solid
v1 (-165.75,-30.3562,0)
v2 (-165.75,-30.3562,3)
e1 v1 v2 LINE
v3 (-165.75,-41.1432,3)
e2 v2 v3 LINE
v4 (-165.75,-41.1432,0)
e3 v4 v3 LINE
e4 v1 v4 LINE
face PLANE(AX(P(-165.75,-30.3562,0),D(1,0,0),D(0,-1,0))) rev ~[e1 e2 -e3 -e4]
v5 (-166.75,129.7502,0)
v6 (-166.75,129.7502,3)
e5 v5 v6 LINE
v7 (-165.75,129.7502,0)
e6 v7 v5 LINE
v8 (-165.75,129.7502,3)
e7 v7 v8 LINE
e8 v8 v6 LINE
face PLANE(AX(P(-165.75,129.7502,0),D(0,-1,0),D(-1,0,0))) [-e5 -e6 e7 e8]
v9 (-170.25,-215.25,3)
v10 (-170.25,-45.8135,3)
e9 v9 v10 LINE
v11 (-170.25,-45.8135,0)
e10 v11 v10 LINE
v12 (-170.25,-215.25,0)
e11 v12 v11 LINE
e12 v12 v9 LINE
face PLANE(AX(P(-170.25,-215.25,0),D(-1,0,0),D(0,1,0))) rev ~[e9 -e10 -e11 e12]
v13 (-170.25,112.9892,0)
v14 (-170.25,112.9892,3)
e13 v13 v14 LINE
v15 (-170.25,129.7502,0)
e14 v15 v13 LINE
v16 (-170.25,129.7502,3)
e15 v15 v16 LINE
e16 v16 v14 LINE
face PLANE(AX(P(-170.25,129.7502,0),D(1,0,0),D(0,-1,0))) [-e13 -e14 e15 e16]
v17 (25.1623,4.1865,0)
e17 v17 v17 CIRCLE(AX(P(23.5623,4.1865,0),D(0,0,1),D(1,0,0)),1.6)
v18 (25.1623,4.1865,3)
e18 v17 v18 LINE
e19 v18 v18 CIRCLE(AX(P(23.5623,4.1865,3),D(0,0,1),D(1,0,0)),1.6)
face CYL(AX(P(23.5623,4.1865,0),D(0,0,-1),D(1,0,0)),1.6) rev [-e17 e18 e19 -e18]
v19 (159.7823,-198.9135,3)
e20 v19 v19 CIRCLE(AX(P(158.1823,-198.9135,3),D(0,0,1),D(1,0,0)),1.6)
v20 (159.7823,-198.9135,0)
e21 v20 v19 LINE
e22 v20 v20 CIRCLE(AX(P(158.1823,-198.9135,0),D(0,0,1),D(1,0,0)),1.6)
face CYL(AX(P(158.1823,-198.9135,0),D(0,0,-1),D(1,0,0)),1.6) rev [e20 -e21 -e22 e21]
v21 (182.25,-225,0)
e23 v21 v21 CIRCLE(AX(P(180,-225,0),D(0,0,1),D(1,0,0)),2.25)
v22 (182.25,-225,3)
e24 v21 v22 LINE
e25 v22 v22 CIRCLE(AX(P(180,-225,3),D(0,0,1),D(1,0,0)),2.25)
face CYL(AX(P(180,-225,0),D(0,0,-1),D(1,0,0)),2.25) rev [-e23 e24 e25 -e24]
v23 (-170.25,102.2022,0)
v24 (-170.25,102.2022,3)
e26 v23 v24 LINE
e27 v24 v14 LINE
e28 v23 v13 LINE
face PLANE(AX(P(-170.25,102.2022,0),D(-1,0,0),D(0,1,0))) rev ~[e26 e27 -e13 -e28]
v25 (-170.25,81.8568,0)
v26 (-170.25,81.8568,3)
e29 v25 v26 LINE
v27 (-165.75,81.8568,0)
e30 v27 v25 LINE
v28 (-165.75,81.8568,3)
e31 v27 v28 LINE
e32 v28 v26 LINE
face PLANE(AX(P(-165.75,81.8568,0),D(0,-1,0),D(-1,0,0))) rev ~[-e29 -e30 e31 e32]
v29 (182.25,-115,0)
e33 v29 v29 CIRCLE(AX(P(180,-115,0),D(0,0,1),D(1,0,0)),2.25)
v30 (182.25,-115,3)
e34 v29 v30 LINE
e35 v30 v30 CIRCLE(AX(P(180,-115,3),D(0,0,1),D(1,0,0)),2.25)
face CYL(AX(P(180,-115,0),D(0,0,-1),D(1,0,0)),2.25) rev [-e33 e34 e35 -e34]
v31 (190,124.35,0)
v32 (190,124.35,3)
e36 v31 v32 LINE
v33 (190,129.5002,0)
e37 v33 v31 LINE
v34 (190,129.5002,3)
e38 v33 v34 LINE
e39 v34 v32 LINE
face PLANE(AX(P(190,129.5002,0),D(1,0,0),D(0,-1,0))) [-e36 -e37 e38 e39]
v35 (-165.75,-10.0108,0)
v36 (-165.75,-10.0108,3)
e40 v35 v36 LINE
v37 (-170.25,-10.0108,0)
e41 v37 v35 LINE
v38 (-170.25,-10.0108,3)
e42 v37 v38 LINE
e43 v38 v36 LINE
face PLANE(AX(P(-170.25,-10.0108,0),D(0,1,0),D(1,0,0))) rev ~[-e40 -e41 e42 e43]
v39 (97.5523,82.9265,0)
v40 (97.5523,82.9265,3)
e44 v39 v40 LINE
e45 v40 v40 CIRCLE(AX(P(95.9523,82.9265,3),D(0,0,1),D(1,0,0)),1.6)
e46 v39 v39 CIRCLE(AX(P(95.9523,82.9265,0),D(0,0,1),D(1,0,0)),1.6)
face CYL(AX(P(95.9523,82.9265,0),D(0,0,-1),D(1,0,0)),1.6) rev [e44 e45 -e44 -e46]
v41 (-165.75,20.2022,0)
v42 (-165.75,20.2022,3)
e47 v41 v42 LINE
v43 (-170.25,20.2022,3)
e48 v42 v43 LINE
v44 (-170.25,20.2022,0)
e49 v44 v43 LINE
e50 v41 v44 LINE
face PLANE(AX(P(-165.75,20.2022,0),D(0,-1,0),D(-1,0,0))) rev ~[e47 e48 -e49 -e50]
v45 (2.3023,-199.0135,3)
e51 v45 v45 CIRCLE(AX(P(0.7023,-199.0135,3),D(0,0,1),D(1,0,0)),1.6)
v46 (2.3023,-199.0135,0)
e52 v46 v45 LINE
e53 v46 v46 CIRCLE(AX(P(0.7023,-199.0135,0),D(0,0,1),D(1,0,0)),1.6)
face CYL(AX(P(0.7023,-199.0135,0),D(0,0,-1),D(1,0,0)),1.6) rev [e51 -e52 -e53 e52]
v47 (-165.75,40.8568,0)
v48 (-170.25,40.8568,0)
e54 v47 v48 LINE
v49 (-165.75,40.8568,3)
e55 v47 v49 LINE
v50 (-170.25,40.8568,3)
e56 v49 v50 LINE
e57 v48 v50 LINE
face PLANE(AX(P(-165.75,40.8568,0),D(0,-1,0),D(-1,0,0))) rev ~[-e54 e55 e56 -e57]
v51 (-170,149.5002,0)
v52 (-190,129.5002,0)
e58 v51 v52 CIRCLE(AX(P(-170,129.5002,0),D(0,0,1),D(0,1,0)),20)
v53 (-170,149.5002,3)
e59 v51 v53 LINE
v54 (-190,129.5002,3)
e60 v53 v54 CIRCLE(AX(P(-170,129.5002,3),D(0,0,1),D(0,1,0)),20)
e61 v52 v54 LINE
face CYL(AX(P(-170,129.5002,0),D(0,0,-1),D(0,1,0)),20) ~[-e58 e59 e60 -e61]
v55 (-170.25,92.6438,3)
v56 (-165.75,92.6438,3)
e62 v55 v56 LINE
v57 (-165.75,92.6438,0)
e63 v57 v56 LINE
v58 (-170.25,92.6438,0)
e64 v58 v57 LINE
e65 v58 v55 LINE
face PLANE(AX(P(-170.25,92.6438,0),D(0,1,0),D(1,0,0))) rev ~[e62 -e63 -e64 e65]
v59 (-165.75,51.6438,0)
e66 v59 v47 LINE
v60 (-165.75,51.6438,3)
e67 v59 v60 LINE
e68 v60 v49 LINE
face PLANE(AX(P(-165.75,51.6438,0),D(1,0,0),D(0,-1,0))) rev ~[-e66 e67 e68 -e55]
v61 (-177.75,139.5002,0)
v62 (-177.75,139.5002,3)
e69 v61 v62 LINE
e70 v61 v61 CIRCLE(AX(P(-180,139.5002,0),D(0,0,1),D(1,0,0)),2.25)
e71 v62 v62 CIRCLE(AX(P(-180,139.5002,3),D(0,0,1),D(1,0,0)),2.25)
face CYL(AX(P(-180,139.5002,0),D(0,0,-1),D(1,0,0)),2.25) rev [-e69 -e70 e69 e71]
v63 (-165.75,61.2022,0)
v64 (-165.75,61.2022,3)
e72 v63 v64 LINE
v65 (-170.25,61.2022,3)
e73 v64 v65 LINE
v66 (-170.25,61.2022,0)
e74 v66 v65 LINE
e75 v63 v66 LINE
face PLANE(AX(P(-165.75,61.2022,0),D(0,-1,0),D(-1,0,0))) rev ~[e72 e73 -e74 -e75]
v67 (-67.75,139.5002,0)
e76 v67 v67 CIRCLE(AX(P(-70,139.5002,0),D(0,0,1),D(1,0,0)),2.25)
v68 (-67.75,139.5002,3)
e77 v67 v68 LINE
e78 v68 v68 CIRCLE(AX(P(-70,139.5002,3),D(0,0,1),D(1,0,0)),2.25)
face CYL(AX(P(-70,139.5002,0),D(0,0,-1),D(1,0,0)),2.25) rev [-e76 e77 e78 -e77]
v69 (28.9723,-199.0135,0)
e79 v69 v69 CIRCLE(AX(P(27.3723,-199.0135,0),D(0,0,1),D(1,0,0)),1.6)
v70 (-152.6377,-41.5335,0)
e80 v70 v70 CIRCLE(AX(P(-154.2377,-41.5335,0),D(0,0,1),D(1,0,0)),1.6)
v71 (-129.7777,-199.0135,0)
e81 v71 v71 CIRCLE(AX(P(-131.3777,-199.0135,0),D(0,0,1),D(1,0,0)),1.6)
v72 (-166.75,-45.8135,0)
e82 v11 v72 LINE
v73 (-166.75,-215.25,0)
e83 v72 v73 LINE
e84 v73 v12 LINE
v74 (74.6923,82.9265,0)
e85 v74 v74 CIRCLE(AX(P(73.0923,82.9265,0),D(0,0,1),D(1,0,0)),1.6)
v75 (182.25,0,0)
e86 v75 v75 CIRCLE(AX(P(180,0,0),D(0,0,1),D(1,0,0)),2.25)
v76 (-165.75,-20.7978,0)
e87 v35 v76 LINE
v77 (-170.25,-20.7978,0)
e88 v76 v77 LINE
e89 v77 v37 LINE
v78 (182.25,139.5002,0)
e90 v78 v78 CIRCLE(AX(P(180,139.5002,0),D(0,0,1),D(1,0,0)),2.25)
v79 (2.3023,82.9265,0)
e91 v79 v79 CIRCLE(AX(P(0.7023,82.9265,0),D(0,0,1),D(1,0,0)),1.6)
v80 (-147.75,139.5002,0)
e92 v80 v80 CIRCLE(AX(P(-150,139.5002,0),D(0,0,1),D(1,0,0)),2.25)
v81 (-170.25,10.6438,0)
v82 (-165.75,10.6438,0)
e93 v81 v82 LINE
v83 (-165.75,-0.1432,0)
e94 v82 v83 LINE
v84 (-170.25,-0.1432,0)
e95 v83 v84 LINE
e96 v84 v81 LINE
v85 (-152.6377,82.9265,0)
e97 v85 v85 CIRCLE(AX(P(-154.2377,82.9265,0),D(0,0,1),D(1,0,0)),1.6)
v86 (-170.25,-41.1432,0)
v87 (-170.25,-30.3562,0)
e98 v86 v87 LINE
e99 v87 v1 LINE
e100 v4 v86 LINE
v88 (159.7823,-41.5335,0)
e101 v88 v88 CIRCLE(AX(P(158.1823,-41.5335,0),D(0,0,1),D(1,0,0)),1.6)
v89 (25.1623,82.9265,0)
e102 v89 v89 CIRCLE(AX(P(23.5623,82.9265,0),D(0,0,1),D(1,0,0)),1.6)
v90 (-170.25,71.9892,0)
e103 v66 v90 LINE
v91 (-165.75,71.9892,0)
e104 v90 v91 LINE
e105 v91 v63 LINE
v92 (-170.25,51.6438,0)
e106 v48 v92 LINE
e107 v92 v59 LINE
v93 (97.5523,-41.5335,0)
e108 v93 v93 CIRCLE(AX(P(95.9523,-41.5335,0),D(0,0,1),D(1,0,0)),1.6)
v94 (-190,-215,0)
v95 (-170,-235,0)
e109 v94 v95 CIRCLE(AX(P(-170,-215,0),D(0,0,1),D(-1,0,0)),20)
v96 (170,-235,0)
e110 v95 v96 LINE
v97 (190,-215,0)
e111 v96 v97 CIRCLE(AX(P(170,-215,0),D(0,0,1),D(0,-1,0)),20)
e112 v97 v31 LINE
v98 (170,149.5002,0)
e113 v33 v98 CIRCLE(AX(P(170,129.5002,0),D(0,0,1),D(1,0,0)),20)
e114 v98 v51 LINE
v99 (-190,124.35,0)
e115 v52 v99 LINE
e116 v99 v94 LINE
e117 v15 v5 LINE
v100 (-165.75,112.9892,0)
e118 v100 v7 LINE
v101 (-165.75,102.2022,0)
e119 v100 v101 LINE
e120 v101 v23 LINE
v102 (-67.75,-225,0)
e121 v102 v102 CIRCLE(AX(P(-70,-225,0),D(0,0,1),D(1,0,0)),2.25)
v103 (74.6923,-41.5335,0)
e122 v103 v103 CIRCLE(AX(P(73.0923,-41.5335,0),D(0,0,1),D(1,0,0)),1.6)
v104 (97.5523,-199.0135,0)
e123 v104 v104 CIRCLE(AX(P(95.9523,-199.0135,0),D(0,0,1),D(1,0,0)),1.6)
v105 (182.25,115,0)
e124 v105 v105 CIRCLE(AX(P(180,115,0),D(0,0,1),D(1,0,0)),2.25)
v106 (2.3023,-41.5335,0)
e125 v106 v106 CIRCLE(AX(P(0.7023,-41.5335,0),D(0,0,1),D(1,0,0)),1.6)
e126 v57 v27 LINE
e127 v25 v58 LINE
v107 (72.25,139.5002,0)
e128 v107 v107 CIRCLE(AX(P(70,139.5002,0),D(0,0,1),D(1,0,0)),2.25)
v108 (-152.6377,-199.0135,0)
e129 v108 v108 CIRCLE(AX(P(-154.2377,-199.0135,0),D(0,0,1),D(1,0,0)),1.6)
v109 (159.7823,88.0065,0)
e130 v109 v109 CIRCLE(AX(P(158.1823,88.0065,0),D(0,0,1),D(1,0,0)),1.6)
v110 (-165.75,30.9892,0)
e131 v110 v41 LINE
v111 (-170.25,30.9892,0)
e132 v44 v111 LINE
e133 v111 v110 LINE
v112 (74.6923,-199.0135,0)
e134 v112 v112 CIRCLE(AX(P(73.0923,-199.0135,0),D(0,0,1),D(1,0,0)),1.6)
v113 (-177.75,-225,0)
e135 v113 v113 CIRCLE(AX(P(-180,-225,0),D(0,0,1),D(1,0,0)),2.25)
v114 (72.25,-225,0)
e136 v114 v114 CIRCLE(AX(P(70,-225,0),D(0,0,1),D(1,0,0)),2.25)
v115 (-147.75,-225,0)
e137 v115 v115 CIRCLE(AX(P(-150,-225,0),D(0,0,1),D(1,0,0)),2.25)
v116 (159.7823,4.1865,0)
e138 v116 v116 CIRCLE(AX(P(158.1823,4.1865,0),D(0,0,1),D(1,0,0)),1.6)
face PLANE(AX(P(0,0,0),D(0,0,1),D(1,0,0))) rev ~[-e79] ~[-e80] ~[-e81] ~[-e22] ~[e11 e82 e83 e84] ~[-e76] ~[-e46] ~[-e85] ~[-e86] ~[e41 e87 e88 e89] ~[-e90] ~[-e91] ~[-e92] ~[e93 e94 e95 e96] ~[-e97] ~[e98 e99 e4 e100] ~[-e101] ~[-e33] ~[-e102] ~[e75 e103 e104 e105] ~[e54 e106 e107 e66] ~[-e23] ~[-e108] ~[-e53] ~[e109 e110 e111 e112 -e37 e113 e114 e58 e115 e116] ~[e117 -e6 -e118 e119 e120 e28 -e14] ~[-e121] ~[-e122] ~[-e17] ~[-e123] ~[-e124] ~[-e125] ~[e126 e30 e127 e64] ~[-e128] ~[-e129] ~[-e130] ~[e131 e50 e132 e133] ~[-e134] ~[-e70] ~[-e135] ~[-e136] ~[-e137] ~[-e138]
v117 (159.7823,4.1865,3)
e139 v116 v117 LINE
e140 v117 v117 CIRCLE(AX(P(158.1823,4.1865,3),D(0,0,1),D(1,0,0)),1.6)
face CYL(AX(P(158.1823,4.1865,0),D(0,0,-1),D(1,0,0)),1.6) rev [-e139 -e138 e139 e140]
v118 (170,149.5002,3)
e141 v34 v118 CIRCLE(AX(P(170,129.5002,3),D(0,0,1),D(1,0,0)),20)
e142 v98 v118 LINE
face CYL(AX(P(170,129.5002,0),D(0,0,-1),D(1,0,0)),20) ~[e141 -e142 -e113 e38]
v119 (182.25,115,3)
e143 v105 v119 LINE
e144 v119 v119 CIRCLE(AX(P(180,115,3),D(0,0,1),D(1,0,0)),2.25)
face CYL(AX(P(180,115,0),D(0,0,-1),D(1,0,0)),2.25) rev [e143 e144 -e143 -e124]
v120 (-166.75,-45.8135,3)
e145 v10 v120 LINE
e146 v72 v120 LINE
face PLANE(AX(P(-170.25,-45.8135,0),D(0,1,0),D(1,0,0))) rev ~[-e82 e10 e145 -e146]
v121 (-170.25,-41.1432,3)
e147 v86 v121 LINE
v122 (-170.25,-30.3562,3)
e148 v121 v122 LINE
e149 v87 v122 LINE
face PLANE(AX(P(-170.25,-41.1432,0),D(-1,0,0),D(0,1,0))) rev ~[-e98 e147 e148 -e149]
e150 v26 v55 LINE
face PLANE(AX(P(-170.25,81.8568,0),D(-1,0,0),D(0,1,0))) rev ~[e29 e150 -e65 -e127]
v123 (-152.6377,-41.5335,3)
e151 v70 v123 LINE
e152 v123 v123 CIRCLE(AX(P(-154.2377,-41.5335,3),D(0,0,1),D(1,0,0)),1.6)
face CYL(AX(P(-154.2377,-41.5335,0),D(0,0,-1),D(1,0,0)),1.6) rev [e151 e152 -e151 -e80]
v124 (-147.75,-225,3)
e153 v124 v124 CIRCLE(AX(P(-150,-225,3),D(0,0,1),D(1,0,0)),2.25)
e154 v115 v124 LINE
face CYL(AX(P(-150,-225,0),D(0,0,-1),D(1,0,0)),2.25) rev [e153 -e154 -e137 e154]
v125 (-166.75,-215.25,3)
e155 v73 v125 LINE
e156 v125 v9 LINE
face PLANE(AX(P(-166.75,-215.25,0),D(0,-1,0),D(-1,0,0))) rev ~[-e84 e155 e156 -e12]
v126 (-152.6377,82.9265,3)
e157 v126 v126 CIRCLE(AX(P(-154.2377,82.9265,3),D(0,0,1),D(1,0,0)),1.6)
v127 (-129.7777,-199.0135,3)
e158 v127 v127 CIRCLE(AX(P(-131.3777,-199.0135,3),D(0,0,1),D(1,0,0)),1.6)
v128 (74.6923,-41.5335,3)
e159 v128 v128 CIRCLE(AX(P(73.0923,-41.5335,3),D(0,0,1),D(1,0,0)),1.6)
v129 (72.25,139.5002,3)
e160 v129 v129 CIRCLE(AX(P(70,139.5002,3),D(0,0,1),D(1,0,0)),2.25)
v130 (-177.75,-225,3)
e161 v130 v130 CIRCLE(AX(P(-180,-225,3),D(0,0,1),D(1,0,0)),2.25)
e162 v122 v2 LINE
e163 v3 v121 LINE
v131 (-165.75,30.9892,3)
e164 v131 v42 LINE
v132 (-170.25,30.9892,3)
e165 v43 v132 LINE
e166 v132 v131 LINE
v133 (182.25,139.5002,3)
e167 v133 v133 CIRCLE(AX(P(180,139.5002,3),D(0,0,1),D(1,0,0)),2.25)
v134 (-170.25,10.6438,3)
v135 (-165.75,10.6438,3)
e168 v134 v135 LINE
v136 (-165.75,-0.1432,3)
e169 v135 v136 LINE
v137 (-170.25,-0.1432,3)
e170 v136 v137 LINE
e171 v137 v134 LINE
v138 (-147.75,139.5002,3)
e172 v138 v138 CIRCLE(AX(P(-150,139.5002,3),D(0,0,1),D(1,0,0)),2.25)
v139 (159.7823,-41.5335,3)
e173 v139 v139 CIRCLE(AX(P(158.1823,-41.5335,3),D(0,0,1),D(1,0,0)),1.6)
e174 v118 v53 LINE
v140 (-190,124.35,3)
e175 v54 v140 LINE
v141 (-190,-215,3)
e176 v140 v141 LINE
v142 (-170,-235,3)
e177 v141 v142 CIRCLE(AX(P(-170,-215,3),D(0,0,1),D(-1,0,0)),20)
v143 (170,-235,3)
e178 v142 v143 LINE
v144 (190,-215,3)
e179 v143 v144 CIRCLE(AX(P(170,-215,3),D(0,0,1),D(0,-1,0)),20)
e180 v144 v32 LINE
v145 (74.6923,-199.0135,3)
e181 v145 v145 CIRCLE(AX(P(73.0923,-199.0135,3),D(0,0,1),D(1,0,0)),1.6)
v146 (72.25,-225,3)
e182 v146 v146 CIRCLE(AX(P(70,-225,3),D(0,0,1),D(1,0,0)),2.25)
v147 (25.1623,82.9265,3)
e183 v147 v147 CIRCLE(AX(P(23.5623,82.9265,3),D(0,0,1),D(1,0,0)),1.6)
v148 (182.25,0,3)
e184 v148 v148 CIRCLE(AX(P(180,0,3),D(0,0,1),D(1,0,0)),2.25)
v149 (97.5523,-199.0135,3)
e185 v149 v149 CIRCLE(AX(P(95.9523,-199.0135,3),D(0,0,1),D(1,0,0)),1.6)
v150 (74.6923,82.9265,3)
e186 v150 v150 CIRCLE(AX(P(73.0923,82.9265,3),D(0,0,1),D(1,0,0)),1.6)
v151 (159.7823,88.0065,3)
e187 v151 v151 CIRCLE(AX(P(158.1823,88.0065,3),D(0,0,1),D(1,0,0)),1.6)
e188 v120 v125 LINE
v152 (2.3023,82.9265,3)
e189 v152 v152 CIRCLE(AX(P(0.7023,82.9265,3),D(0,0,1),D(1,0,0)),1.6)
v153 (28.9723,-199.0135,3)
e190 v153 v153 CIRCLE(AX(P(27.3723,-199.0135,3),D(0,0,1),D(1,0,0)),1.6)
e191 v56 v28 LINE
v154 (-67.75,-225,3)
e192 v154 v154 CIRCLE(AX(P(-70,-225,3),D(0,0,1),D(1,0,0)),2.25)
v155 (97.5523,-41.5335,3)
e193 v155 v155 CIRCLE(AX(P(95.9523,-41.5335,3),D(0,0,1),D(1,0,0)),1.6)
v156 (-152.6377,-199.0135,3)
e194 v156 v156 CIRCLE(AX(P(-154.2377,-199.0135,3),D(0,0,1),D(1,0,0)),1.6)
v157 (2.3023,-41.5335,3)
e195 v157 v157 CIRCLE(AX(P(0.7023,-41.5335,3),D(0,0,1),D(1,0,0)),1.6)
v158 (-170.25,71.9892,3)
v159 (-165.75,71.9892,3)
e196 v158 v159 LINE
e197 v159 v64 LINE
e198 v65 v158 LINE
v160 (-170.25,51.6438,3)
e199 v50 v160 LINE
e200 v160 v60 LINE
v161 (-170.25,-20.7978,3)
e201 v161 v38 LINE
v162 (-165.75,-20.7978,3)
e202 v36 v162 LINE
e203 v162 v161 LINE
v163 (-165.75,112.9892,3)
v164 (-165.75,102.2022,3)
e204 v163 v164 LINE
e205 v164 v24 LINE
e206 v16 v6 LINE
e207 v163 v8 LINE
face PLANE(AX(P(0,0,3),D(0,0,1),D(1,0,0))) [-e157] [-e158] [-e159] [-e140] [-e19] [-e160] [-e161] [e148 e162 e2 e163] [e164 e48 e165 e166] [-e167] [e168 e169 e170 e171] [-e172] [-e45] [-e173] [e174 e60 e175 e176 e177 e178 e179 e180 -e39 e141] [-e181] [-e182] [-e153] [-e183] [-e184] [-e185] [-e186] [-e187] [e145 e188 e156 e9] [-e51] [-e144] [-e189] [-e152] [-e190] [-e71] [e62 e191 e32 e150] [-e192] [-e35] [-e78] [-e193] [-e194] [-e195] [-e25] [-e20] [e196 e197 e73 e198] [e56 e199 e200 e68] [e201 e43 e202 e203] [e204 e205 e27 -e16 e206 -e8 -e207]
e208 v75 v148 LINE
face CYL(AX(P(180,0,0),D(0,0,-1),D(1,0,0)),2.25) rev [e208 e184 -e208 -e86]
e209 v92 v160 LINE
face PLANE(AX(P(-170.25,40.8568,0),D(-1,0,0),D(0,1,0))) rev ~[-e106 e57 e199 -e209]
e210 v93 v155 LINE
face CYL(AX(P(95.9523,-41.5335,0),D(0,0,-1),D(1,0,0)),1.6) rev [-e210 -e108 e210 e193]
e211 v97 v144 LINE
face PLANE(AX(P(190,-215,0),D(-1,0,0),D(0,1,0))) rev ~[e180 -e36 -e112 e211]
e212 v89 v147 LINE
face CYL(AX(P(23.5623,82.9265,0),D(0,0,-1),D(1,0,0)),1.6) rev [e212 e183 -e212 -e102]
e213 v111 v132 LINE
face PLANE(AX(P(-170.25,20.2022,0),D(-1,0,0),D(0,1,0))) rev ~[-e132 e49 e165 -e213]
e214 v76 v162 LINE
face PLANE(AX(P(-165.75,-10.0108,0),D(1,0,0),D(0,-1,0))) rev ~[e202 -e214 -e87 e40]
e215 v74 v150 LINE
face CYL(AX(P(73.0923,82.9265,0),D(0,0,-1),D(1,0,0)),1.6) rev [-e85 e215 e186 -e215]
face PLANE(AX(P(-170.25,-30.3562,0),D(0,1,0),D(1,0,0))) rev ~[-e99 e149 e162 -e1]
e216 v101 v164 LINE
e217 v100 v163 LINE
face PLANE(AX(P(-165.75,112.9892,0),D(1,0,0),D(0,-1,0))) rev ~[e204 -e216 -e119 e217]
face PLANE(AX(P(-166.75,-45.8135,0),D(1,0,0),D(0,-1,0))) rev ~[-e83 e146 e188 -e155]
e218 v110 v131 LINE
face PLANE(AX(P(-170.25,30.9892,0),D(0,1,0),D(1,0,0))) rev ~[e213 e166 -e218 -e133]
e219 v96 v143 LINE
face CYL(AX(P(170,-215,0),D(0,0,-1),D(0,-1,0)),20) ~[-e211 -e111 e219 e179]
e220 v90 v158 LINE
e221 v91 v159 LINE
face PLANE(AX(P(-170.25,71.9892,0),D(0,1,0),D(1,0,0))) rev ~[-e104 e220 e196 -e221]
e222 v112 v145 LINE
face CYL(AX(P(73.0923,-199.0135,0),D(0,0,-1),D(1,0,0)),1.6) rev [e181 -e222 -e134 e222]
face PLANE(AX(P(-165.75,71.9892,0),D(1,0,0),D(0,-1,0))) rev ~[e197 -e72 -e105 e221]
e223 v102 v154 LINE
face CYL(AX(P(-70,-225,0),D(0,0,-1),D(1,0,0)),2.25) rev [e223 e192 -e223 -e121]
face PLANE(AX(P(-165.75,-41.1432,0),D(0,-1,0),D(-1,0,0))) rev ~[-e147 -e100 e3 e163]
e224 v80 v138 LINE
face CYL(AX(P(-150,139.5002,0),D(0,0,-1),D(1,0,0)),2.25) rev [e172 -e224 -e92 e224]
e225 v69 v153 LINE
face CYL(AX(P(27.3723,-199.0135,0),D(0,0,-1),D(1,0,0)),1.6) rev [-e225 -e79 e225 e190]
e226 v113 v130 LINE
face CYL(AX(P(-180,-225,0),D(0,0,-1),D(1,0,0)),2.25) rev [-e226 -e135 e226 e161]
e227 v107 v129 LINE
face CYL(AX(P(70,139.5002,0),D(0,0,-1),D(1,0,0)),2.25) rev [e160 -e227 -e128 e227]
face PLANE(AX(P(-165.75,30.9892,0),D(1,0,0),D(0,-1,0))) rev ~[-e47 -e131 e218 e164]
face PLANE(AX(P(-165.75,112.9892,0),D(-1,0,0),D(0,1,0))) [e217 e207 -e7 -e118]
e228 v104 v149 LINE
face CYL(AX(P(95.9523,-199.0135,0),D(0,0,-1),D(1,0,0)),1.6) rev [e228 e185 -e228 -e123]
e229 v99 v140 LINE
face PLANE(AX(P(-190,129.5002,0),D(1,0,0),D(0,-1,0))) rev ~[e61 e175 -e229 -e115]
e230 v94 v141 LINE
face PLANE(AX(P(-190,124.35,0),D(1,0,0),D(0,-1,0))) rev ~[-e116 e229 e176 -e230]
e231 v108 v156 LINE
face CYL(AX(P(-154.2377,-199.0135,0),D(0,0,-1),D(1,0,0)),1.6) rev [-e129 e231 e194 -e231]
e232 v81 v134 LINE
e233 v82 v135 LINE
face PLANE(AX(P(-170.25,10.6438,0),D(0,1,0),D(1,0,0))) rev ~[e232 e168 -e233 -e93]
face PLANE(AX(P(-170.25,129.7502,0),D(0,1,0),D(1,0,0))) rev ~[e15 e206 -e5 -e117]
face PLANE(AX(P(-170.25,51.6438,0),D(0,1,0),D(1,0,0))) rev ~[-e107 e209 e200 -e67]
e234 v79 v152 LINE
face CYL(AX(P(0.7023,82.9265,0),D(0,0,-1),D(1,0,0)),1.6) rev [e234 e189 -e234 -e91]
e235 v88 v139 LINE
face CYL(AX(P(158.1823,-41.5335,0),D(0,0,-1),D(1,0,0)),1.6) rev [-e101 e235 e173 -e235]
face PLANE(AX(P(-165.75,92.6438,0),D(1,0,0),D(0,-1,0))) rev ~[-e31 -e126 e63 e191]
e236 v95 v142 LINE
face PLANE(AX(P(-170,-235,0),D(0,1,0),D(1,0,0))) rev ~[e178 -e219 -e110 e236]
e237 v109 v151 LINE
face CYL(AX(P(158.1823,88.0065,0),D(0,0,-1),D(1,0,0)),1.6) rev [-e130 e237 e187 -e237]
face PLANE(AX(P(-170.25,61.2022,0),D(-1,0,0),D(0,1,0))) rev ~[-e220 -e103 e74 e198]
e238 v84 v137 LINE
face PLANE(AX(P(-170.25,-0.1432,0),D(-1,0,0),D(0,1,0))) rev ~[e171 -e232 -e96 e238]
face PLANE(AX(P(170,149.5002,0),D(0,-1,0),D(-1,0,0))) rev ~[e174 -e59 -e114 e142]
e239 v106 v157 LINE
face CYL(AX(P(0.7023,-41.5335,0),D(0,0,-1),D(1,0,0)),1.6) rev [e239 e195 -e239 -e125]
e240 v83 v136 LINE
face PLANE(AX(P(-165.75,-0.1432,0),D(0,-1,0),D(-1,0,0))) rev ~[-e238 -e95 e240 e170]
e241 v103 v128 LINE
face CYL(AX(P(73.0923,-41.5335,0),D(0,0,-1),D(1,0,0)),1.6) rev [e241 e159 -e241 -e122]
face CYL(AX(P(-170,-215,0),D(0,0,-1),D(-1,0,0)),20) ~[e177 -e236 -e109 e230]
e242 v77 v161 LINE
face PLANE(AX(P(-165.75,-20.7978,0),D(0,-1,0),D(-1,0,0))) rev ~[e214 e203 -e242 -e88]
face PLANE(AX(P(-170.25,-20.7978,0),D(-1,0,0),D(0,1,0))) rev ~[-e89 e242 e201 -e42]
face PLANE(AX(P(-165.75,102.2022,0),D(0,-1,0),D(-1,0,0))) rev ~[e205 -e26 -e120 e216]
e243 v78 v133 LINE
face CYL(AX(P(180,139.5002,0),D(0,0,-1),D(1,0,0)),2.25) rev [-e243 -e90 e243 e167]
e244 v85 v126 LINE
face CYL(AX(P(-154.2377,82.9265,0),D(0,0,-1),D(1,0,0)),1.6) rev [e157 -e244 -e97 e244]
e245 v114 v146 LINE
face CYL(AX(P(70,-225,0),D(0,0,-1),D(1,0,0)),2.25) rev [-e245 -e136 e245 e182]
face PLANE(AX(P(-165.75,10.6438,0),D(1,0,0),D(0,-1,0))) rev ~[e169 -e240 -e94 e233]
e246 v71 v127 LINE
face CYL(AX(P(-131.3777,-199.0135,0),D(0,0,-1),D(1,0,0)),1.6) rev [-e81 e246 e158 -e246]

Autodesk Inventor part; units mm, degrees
ref_plane "YZ Plane" through (0, 0, 0) normal (1, 0, 0) x (0, 1, 0)
ref_plane "XZ Plane" through (0, 0, 0) normal (0, 1, 0) x (-1, 0, 0)
ref_plane "XY Plane" through (0, 0, 0) normal (0, 0, 1) x (1, 0, 0)
sketch "Sketch1" plane through (0, 0, 0) normal (0, 0, 1) x (1, 0, 0)
  circle A0 centre (95.9523, -199.0135) radius 1.6
  circle A1 centre (-154.2377, -199.0135) radius 1.6
  circle A2 centre (23.5623, 4.1865) radius 1.6
  circle A3 centre (158.1823, -41.5335) radius 1.6
  circle A4 centre (95.9523, 82.9265) radius 1.6
  circle A5 centre (158.1823, 88.0065) radius 1.6
  circle A6 centre (158.1823, 4.1865) radius 1.6
  circle A7 centre (158.1823, -198.9135) radius 1.6
  circle A8 centre (23.5623, 82.9265) radius 1.6
  circle A9 centre (95.9523, -41.5335) radius 1.6
  circle A10 centre (27.3723, -199.0135) radius 1.6
  circle A11 centre (70, 139.5002) radius 2.25
  circle A12 centre (180, -115) radius 2.25
  circle A13 centre (-70, 139.5002) radius 2.25
  circle A14 centre (70, -225) radius 2.25
  circle A15 centre (-70, -225) radius 2.25
  circle A16 centre (180, 0) radius 2.25
  circle A17 centre (180, 115) radius 2.25
  line L0 (-170.25, 129.7502) -> (-166.75, 129.7502)
  line L1 (-170.25, -10.0108) -> (-165.75, -10.0108)
  line L2 (-165.75, -10.0108) -> (-165.75, -20.7978)
  line L3 (-165.75, -20.7978) -> (-170.25, -20.7978)
  line L4 (-170.25, -20.7978) -> (-170.25, -10.0108)
  line L5 (-170.25, 30.9892) -> (-165.75, 30.9892)
  line L6 (-165.75, 30.9892) -> (-165.75, 20.2022)
  line L7 (-165.75, 20.2022) -> (-170.25, 20.2022)
  line L8 (-170.25, 20.2022) -> (-170.25, 30.9892)
  line L9 (-170.25, 71.9892) -> (-165.75, 71.9892)
  line L10 (-165.75, 71.9892) -> (-165.75, 61.2022)
  line L11 (-165.75, 61.2022) -> (-170.25, 61.2022)
  line L12 (-170.25, 61.2022) -> (-170.25, 71.9892)
  line L13 (-165.75, 112.9892) -> (-165.75, 102.2022)
  line L14 (-165.75, 102.2022) -> (-170.25, 102.2022)
  line L15 (-170.25, 102.2022) -> (-170.25, 112.9892)
  line L16 (-170.25, 92.6438) -> (-165.75, 92.6438)
  line L17 (-165.75, 92.6438) -> (-165.75, 81.8568)
  line L18 (-165.75, 81.8568) -> (-170.25, 81.8568)
  line L19 (-170.25, 81.8568) -> (-170.25, 92.6438)
  line L20 (-170.25, 51.6438) -> (-165.75, 51.6438)
  line L21 (-165.75, 51.6438) -> (-165.75, 40.8568)
  line L22 (-165.75, 40.8568) -> (-170.25, 40.8568)
  line L23 (-170.25, 40.8568) -> (-170.25, 51.6438)
  line L24 (-170.25, 10.6438) -> (-165.75, 10.6438)
  line L25 (-165.75, 10.6438) -> (-165.75, -0.1432)
  line L26 (-165.75, -0.1432) -> (-170.25, -0.1432)
  line L27 (-170.25, -0.1432) -> (-170.25, 10.6438)
  line L28 (-170.25, -30.3562) -> (-165.75, -30.3562)
  line L29 (-165.75, -30.3562) -> (-165.75, -41.1432)
  line L30 (-165.75, -41.1432) -> (-170.25, -41.1432)
  line L31 (-170.25, -41.1432) -> (-170.25, -30.3562)
  line L32 (-170.25, -215.25) -> (-170.25, -45.8135)
  line L33 (-170.25, -45.8135) -> (-166.75, -45.8135)
  line L34 (-166.75, -45.8135) -> (-166.75, -215.25)
  line L35 (-166.75, -215.25) -> (-170.25, -215.25)
  circle A18 centre (-150, -225) radius 2.25
  circle A19 centre (-150, 139.5002) radius 2.25
  circle A20 centre (73.0923, -41.5335) radius 1.6
  circle A21 centre (0.7023, -199.0135) radius 1.6
  circle A22 centre (-154.2377, -41.5335) radius 1.6
  circle A23 centre (0.7023, 82.9265) radius 1.6
  circle A24 centre (73.0923, 82.9265) radius 1.6
  circle A25 centre (-154.2377, 82.9265) radius 1.6
  circle A26 centre (-131.3777, -199.0135) radius 1.6
  circle A27 centre (73.0923, -199.0135) radius 1.6
  circle A28 centre (0.7023, -41.5335) radius 1.6
  circle A29 centre (180, -225) radius 2.25
  circle A30 centre (-180, -225) radius 2.25
  circle A31 centre (180, 139.5002) radius 2.25
  circle A32 centre (-180, 139.5002) radius 2.25
  line L36 (170, 149.5002) -> (-170, 149.5002)
  arc A33 (-170, 149.5002) -> (-190, 129.5002) centre (-170, 129.5002) ccw
  line L37 (-190, 124.35) -> (-190, -215)
  arc A34 (-190, -215) -> (-170, -235) centre (-170, -215) ccw
  line L38 (-170, -235) -> (170, -235)
  arc A35 (170, -235) -> (190, -215) centre (170, -215) ccw
  line L39 (190, -215) -> (190, 124.35)
  arc A36 (190, 129.5002) -> (170, 149.5002) centre (170, 129.5002) ccw
  line L40 (-190, 129.5002) -> (-190, 124.35)
  line L41 (190, 129.5002) -> (190, 124.35)
  line L42 (-165.75, 112.9892) -> (-165.75, 129.7502)
  line L43 (-165.75, 129.7502) -> (-166.75, 129.7502)
  line L44 (-170.25, 129.7502) -> (-170.25, 112.9892)
  point P0 (0, 0)
  point P1 (0, 0)
  dimension "d197" = 27.548
extrude "Extrusion1" add sketch "Sketch1" along normal blind 3
properties part number "right_panel2"
